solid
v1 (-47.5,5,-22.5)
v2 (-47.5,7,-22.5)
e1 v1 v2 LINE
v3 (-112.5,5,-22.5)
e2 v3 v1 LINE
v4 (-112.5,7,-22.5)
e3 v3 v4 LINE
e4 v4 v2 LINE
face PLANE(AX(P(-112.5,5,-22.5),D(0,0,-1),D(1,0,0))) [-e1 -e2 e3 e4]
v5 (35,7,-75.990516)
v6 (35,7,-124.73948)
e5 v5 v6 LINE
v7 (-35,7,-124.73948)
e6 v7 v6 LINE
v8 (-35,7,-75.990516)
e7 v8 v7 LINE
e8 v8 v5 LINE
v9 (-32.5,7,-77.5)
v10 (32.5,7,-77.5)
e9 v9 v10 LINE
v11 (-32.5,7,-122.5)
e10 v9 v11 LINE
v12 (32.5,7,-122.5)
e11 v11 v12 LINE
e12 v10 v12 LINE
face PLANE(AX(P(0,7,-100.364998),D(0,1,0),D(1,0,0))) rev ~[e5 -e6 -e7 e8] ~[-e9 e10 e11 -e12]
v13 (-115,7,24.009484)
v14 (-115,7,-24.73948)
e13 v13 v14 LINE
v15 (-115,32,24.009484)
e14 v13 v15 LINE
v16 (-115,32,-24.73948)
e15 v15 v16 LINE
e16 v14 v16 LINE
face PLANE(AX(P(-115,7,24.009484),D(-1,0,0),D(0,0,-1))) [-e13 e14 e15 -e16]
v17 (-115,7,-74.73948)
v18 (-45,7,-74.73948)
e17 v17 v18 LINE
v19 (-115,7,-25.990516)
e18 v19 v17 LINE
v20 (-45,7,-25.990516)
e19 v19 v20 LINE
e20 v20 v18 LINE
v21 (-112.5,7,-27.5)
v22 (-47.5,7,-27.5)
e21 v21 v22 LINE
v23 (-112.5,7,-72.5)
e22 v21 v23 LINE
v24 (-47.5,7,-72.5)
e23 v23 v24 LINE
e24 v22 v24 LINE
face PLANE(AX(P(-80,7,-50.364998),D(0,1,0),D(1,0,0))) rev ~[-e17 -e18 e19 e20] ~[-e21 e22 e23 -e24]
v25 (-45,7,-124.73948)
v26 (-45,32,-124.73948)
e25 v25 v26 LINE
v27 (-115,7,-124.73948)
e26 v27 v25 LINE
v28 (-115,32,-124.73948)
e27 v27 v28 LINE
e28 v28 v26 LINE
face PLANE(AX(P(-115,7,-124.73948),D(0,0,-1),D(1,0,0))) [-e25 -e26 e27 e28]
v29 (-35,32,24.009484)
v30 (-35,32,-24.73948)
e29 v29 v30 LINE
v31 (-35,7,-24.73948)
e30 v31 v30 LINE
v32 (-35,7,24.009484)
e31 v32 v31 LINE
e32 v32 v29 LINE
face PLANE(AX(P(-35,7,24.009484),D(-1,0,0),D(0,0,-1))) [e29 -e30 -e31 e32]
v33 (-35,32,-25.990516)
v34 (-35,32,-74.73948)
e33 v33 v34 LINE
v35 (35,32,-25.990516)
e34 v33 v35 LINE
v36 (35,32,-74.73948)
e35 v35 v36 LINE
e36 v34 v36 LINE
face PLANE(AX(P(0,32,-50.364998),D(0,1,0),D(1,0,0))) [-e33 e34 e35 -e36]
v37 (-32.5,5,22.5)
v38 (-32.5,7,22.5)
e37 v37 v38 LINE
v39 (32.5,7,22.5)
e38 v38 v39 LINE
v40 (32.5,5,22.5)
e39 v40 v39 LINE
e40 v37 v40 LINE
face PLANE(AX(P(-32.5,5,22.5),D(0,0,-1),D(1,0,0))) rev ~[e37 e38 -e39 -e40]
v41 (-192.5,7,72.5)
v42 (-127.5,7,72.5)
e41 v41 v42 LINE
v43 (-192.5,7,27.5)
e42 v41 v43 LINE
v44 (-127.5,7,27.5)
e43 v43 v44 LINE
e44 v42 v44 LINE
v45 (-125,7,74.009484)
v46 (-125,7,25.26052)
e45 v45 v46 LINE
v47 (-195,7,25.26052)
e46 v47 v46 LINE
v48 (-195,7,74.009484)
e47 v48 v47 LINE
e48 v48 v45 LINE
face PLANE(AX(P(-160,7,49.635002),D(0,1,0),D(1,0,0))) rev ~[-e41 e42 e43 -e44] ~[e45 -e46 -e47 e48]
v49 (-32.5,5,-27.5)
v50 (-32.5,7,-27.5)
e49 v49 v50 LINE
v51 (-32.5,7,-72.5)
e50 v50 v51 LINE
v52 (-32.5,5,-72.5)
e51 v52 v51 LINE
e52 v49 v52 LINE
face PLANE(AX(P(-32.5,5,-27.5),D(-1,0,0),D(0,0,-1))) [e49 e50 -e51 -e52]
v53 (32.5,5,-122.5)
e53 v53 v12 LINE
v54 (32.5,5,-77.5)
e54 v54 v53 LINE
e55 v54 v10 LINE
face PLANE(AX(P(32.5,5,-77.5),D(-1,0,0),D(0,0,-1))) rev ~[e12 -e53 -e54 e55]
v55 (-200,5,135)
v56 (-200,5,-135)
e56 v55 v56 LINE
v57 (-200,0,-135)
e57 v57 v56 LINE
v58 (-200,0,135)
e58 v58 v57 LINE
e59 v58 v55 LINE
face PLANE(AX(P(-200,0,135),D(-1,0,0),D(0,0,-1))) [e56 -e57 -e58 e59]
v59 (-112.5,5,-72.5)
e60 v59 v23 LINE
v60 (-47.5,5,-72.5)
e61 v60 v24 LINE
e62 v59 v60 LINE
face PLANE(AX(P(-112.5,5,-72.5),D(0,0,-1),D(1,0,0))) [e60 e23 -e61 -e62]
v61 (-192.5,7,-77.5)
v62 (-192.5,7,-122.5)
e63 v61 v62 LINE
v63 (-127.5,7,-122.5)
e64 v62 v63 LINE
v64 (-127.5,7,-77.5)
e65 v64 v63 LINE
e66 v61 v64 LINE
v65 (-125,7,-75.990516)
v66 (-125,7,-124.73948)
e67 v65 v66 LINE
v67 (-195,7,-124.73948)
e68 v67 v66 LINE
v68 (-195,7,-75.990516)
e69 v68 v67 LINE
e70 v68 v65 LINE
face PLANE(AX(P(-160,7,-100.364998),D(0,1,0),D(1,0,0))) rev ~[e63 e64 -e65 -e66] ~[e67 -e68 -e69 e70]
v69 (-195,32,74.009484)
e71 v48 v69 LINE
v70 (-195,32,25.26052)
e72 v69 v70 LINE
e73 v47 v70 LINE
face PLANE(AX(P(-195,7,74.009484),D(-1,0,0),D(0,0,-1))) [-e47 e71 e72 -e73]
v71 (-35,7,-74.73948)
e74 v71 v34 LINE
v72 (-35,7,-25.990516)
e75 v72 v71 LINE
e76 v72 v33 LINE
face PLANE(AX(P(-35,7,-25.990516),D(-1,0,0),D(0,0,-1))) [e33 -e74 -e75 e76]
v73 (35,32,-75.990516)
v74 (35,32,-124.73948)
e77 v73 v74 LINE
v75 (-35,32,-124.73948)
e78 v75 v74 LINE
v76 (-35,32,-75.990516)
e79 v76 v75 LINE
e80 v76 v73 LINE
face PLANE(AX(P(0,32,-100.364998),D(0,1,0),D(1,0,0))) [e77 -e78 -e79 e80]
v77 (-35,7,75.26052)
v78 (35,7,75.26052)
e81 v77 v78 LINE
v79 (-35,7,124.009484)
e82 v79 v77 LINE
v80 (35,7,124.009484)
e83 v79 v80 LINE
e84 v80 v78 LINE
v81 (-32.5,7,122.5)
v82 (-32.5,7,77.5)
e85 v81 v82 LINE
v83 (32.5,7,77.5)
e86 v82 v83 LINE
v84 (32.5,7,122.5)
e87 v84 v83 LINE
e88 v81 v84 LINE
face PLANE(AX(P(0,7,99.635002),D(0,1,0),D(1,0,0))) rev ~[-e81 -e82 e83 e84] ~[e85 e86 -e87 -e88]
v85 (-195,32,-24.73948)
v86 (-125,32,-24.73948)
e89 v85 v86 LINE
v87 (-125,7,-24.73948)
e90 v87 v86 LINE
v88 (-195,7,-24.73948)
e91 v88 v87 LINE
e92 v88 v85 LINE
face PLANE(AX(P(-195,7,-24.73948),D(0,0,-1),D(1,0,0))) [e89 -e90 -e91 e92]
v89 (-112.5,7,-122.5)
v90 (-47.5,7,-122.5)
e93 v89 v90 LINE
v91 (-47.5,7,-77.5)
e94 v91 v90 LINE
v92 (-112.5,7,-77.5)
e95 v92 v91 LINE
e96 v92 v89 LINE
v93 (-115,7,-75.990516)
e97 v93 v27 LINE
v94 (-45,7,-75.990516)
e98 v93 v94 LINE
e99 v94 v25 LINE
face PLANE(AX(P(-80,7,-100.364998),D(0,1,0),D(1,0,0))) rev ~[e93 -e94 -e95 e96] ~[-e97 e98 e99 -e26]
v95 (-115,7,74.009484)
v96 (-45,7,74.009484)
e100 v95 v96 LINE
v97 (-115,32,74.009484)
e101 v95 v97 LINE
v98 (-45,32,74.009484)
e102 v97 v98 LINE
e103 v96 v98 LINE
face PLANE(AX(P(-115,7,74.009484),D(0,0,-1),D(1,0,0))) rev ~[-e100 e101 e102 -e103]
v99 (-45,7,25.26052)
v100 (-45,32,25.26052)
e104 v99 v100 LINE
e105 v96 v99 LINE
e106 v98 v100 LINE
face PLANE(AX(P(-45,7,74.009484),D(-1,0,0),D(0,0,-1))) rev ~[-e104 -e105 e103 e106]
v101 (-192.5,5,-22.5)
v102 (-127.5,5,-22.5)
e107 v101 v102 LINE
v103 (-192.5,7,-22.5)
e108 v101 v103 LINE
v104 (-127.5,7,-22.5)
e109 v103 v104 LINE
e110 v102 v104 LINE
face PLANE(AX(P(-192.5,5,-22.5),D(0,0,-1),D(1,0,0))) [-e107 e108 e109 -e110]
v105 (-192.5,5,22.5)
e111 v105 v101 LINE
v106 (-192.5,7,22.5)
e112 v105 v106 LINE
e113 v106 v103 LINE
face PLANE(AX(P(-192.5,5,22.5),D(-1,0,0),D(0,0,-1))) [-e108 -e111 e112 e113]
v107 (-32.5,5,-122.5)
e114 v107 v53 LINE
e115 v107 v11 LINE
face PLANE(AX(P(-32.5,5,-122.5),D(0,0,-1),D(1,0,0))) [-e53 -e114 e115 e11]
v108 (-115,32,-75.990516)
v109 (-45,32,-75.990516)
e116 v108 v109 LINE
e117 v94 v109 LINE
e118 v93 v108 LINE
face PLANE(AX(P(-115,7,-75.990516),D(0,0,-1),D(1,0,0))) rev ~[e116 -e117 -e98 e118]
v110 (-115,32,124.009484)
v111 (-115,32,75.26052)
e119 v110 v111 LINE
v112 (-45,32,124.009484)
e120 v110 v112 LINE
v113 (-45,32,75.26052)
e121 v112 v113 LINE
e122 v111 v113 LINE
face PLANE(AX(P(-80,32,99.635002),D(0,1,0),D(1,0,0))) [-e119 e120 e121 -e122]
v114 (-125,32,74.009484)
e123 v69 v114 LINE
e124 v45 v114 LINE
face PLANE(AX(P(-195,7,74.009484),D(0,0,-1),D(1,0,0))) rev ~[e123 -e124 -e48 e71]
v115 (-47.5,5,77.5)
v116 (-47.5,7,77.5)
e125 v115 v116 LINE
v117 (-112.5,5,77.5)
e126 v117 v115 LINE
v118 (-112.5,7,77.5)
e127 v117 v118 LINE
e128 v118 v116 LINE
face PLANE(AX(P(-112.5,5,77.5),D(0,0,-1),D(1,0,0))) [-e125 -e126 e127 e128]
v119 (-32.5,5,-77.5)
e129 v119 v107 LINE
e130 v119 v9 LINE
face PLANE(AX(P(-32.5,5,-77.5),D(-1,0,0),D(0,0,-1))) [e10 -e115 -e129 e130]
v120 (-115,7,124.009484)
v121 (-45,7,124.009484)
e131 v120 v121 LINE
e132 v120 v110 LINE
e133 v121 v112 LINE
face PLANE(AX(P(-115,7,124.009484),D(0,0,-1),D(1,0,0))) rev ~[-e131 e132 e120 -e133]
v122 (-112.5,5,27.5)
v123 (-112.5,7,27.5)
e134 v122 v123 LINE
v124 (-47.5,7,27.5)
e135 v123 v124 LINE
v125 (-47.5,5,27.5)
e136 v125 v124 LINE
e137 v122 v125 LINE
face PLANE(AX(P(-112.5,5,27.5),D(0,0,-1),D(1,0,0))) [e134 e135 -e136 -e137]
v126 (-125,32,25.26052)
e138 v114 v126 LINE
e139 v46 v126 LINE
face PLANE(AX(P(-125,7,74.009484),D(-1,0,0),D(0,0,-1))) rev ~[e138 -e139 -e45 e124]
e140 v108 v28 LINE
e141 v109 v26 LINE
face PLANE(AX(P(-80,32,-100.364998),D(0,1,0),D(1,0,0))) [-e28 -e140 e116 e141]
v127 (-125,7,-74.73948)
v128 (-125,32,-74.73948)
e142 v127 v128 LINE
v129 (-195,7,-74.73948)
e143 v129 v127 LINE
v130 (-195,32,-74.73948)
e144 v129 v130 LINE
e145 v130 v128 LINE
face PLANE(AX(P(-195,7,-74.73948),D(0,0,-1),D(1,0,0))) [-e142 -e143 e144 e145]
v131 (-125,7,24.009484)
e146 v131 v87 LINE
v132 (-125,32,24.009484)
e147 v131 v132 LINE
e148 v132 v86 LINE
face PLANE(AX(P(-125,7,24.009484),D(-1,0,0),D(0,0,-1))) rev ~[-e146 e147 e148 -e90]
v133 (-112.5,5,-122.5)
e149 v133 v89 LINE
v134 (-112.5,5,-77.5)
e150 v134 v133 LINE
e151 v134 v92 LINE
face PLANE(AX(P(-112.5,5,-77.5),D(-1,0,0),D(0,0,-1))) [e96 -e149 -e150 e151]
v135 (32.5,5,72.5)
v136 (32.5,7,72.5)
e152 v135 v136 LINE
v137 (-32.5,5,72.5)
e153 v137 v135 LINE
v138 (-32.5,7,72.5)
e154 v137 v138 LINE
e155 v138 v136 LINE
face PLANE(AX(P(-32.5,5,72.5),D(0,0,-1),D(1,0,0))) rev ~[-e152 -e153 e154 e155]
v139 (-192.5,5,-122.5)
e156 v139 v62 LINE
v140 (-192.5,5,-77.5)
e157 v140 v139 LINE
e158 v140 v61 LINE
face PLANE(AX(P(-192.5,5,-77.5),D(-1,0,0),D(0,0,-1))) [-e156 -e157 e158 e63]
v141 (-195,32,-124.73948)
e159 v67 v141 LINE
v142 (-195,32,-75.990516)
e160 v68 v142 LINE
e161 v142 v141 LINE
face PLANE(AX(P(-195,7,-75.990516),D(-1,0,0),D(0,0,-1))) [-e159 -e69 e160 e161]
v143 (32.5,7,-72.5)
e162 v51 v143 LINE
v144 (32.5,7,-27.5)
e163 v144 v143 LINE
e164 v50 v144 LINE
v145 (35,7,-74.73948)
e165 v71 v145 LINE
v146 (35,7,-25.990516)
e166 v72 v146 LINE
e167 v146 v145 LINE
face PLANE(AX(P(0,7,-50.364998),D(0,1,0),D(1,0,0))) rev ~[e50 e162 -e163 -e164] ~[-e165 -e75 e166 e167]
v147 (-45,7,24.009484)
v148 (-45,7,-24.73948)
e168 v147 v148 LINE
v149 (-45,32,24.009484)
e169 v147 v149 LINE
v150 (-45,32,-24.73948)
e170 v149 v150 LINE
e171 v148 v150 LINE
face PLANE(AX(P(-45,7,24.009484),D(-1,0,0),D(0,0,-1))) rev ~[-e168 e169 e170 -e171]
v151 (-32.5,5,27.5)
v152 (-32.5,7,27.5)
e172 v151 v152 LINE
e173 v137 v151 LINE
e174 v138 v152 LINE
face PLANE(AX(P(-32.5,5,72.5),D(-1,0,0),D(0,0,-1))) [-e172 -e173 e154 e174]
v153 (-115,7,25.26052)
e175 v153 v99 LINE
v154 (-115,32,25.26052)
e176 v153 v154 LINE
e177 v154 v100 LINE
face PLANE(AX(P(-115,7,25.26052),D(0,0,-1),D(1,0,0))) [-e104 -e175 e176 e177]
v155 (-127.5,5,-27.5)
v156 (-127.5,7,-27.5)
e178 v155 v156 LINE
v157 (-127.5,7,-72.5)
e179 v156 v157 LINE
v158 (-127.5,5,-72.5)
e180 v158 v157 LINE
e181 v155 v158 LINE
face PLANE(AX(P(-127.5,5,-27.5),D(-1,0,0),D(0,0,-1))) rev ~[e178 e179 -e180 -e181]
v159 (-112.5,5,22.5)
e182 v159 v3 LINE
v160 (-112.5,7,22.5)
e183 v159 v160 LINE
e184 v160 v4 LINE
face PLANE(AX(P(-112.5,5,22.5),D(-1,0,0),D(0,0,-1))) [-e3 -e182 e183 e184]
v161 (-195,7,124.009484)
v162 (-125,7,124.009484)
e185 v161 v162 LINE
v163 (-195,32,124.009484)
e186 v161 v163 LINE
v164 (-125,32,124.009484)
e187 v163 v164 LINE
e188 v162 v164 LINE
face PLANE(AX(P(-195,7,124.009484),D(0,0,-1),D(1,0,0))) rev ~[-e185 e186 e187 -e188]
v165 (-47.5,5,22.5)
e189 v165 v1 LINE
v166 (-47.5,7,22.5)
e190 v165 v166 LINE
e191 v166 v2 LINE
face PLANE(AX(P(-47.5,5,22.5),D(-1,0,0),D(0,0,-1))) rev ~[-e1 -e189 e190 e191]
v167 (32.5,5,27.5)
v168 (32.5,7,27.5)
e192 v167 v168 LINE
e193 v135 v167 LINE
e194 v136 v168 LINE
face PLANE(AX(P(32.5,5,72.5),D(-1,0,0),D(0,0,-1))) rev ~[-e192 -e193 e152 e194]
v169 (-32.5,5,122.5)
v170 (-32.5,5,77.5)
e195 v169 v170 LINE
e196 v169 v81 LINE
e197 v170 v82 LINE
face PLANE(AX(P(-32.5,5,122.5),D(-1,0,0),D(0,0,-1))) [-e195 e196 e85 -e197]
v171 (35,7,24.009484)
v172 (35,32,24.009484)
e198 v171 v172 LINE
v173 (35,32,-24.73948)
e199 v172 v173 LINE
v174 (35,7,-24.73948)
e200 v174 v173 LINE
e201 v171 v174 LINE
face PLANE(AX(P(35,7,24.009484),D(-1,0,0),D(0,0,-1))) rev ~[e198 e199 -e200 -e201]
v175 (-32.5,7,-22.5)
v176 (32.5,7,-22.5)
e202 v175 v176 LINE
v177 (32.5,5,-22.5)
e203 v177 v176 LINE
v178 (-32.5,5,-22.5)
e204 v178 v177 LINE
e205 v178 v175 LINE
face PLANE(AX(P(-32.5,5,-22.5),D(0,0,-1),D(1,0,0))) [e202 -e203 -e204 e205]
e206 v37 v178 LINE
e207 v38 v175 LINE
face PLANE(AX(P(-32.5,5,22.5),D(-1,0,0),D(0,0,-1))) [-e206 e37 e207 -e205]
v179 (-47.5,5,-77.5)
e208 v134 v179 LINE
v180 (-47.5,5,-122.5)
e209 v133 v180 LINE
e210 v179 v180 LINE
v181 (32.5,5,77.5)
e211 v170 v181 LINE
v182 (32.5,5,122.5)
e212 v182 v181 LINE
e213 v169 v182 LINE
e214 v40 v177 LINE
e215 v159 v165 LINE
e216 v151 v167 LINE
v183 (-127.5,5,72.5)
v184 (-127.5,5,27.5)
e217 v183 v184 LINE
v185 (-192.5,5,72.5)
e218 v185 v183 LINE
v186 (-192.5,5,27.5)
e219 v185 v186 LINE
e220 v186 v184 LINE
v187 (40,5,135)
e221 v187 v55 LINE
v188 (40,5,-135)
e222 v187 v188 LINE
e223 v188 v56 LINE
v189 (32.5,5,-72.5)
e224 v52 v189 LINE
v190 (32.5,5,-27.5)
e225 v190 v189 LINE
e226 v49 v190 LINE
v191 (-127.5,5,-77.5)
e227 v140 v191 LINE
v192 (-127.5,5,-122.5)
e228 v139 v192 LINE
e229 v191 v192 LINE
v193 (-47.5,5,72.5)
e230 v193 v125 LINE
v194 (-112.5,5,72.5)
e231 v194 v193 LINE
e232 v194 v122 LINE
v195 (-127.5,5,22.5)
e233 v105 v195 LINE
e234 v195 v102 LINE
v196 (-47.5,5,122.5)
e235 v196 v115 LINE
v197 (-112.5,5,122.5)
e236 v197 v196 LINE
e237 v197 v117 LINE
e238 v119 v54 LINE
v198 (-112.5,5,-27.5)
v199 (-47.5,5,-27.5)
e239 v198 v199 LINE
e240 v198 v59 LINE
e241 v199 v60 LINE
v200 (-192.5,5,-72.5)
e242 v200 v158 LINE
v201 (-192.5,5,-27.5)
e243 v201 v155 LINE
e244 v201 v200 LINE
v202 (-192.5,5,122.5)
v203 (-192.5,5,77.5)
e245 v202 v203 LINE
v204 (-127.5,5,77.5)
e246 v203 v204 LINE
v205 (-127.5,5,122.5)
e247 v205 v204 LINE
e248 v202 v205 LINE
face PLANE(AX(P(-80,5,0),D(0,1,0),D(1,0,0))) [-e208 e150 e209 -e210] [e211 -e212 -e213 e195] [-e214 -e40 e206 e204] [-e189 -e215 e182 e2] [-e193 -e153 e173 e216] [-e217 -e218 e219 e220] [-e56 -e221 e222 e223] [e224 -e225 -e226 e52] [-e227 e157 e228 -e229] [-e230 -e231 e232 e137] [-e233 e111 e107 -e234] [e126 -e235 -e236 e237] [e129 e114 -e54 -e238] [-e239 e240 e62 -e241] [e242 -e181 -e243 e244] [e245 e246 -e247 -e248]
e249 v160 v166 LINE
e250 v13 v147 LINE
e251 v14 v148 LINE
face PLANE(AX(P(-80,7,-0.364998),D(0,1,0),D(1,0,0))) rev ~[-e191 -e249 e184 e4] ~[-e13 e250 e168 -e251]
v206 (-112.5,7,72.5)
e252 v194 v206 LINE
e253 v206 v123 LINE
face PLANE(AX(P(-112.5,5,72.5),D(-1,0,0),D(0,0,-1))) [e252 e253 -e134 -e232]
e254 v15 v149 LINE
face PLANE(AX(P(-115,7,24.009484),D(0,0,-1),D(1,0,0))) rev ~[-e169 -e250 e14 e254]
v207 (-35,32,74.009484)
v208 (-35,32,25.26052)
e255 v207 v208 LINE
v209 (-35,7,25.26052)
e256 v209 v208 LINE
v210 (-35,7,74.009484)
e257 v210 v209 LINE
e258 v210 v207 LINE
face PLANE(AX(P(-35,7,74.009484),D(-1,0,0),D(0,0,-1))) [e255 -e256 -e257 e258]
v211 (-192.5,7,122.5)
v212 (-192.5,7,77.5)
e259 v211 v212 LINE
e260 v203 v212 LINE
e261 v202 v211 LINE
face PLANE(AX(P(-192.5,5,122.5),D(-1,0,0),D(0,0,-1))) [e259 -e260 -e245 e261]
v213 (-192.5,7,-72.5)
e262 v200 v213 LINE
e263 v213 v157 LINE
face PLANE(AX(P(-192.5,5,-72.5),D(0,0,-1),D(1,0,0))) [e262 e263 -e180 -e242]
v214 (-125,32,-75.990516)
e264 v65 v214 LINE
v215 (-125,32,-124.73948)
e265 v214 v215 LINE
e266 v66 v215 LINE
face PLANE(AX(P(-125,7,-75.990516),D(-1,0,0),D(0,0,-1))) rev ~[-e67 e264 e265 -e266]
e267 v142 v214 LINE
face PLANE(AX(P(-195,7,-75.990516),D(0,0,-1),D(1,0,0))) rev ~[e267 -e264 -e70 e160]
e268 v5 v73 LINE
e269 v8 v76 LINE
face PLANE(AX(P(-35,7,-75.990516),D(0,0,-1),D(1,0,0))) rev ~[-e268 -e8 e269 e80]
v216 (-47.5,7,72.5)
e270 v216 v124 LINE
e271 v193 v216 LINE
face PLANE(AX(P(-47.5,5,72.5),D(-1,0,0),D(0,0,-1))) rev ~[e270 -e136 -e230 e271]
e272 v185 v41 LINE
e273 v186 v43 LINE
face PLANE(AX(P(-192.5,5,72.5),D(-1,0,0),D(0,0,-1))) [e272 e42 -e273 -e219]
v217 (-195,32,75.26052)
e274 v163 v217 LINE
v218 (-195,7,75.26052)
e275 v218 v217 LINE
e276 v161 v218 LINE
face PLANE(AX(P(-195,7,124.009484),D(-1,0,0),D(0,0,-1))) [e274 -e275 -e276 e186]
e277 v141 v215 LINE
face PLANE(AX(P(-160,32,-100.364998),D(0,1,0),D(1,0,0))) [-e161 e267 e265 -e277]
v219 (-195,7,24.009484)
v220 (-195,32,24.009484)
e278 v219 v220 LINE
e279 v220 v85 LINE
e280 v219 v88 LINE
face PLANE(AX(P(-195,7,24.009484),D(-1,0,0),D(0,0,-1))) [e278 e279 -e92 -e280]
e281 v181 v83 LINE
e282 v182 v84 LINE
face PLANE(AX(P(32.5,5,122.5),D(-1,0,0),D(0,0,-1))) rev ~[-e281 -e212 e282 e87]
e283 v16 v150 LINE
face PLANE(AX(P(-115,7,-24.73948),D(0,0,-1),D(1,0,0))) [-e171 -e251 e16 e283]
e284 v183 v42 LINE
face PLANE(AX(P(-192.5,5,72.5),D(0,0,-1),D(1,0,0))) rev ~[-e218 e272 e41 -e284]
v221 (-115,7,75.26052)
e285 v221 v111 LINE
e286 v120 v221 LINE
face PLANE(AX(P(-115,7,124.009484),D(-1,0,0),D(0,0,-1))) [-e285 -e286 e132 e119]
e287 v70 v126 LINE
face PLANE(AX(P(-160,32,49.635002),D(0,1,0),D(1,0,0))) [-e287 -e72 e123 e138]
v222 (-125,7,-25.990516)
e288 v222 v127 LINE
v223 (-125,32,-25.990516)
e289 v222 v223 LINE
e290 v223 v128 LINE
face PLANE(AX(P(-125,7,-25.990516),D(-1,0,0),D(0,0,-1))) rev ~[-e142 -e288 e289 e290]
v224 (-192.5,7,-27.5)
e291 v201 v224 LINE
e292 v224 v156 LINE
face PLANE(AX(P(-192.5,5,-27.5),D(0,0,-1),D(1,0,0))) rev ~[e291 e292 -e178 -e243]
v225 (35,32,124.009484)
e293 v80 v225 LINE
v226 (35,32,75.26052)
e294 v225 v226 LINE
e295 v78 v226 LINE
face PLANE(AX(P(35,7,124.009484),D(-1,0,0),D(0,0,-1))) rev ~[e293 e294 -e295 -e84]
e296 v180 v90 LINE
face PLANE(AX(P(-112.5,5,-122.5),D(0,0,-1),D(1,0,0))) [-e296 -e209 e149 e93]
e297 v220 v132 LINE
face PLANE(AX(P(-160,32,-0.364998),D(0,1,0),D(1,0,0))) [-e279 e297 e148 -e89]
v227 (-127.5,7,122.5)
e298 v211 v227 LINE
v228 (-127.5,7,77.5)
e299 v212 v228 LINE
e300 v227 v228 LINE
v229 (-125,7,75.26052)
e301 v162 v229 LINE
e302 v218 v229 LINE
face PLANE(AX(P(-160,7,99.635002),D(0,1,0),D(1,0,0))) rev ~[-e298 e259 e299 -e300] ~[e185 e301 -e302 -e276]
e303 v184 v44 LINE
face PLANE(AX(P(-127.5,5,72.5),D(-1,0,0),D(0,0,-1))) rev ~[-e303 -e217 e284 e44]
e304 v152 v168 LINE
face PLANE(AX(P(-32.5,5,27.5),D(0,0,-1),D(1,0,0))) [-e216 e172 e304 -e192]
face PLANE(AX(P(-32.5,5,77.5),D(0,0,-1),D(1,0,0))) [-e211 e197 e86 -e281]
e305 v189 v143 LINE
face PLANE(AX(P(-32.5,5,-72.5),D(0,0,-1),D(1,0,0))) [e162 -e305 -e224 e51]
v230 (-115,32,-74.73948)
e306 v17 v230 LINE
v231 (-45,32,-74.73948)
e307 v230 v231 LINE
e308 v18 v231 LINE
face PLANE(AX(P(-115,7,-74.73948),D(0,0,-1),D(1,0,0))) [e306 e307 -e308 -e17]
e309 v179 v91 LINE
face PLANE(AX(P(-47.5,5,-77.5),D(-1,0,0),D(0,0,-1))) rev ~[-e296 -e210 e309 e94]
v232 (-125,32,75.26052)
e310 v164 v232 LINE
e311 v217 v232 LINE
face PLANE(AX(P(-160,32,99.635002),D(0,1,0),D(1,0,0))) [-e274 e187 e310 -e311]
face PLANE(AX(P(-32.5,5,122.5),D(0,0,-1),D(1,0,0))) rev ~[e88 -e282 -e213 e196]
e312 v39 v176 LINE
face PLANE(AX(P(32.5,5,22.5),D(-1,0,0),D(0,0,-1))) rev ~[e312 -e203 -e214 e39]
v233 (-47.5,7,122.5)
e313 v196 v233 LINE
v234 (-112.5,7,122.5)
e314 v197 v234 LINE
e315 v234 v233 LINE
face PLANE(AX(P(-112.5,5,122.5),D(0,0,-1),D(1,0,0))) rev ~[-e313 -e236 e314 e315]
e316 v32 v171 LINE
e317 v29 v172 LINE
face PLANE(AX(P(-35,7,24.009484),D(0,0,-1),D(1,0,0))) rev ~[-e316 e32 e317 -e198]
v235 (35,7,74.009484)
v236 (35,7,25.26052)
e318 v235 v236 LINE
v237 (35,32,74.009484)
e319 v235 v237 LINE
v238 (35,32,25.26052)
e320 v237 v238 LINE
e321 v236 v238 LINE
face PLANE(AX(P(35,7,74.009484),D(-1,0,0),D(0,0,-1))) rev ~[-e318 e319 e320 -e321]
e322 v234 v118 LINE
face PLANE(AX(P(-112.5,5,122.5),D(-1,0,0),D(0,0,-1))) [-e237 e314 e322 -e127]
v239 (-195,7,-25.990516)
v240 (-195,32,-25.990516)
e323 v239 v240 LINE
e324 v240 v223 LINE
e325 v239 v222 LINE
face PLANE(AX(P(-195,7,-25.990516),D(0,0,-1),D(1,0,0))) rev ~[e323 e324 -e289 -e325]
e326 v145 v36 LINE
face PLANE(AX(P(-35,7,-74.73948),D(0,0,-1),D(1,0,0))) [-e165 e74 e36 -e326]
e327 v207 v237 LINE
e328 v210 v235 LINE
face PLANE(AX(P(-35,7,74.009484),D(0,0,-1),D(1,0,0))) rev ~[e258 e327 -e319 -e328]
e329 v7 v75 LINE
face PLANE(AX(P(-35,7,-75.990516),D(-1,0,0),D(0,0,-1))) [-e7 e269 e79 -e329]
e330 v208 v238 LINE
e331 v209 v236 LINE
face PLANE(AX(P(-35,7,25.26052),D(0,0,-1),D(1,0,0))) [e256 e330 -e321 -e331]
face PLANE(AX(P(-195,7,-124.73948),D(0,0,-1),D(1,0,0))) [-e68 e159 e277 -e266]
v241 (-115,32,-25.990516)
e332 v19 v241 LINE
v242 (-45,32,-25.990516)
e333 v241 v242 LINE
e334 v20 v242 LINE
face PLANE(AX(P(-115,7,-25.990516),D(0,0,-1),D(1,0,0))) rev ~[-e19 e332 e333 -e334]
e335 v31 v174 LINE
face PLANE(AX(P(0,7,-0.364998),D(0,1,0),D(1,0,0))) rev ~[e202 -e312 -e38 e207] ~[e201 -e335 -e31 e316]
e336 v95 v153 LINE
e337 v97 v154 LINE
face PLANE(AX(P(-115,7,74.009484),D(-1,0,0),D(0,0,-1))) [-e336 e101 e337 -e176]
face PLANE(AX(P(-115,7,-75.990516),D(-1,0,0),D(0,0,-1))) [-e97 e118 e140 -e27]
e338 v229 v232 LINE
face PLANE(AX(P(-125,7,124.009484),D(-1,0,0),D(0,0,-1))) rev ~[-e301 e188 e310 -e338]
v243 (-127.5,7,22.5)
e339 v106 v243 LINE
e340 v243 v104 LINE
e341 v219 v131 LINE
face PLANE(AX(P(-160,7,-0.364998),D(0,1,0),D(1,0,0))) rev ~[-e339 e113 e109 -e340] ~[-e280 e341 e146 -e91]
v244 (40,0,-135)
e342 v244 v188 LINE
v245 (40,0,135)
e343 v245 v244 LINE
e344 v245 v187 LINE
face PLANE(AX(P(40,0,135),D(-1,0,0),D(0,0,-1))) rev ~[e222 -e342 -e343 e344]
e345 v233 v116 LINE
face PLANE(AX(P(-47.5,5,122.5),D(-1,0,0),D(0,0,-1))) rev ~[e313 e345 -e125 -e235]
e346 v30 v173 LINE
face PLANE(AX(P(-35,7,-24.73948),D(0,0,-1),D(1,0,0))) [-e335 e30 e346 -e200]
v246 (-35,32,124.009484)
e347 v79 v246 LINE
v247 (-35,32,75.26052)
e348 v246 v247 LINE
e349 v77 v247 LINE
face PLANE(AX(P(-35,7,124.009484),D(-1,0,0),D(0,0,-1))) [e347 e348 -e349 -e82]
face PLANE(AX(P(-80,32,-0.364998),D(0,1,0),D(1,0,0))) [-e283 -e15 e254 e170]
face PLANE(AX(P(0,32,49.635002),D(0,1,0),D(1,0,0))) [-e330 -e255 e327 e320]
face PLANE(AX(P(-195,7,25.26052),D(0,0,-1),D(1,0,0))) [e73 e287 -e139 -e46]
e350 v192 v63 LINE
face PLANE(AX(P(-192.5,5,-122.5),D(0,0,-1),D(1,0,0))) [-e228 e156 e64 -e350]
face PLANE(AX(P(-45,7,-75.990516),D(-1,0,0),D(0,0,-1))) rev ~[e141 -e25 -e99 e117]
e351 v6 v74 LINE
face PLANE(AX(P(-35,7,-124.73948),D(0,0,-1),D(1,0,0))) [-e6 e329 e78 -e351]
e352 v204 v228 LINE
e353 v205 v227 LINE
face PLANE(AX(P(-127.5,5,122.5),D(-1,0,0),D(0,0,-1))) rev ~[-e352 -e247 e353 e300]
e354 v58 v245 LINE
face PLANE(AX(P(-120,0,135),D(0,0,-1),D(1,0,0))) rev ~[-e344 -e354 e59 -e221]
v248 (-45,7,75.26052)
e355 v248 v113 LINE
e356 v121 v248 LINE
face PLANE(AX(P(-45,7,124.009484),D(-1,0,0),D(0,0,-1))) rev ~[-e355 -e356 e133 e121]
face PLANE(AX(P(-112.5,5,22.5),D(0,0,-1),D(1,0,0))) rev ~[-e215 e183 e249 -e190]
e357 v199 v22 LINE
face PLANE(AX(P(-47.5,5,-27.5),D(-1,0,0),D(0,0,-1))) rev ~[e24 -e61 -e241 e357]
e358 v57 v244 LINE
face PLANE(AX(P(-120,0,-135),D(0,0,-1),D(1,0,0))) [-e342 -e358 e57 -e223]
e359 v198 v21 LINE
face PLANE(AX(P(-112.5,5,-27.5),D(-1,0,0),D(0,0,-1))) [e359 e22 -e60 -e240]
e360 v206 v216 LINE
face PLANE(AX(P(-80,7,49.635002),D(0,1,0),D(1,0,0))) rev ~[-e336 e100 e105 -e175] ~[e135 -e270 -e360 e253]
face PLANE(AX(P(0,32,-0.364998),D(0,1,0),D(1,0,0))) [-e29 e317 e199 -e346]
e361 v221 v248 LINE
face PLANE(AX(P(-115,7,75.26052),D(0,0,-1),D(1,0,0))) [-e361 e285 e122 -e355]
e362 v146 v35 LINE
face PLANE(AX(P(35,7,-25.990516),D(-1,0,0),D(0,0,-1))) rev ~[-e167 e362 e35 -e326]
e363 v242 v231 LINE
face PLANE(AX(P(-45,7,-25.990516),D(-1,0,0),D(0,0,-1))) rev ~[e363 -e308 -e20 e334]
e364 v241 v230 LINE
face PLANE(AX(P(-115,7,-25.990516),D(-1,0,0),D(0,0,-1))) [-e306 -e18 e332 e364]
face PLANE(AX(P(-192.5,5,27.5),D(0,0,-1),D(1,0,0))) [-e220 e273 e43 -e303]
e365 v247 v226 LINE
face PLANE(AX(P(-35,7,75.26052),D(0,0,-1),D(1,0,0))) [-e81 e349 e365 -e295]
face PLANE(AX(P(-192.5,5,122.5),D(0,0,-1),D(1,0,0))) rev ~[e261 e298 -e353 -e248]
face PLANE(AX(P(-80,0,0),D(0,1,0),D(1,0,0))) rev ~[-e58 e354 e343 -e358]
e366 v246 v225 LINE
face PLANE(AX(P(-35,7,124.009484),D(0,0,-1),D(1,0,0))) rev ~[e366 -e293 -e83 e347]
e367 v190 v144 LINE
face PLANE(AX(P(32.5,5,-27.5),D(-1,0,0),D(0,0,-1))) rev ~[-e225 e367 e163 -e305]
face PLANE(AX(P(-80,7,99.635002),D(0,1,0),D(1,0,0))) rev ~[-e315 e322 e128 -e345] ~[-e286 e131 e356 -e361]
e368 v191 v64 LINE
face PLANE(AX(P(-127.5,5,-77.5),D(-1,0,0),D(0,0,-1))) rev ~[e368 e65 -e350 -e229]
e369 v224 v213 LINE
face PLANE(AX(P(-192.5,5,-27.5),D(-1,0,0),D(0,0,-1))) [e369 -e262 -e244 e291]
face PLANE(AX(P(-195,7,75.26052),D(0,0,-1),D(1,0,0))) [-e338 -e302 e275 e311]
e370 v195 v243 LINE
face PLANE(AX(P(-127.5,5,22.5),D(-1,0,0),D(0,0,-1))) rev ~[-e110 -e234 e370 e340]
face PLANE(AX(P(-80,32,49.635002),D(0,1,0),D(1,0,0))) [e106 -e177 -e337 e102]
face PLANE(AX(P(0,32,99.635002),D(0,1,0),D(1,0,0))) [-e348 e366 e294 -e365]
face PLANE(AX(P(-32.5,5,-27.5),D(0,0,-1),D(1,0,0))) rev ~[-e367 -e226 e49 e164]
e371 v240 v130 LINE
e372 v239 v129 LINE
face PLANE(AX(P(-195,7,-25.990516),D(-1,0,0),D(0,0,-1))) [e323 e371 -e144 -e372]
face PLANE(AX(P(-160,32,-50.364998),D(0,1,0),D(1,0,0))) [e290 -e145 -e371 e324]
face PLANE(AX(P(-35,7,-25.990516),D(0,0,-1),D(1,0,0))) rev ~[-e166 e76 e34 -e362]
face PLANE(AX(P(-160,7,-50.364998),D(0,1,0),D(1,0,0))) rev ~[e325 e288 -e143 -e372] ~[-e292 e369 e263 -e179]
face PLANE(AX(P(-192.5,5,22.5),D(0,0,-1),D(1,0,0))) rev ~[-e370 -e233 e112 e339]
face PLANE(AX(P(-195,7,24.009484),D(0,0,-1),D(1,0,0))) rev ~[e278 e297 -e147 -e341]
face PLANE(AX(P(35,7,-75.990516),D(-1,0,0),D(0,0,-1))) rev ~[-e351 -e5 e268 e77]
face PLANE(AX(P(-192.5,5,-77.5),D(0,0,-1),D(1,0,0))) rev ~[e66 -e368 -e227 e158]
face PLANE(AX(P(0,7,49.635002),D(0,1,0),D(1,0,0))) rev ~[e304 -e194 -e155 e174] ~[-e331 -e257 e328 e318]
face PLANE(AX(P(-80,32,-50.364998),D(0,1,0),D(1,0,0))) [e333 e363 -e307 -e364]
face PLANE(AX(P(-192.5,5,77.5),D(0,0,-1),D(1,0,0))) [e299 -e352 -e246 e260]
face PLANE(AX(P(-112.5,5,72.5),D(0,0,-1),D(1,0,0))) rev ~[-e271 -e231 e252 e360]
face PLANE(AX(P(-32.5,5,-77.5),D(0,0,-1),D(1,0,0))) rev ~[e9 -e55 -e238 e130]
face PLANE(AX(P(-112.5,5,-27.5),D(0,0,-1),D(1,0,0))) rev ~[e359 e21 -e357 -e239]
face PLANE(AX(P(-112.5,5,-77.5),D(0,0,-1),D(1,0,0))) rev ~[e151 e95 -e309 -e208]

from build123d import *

# Parameters (mm, degrees)
SKETCH1_W                  = 80
SKETCH1_H                  = 270
BOSS_EXTRUDE1_DEPTH        = 5
SKETCH2_W                  = 65
SKETCH2_H                  = 45
BOSS_EXTRUDE3_DEPTH        = 2
LPATTERN1_COUNT            = 5
LPATTERN1_PITCH            = 50
SKETCH3_W                  = 70
SKETCH3_H                  = 48.748964222
BOSS_EXTRUDE8_DEPTH        = 25
LPATTERN5_COUNT            = 5
LPATTERN5_PITCH            = 50
LPATTERN6_COUNT            = 3
LPATTERN6_PITCH            = 80
LPATTERN6_COPY_1_SKETCH_W  = 65
LPATTERN6_COPY_1_SKETCH_H  = 45
LPATTERN6_COPY_1_DEPTH     = 2
LPATTERN6_COPY_2_SKETCH_W  = 65
LPATTERN6_COPY_2_SKETCH_H  = 45
LPATTERN6_COPY_2_DEPTH     = 2
LPATTERN6_COPY_3_SKETCH_W  = 65
LPATTERN6_COPY_3_SKETCH_H  = 45
LPATTERN6_COPY_3_DEPTH     = 2
LPATTERN6_COPY_4_SKETCH_W  = 65
LPATTERN6_COPY_4_SKETCH_H  = 45
LPATTERN6_COPY_4_DEPTH     = 2
LPATTERN6_COPY_5_SKETCH_W  = 65
LPATTERN6_COPY_5_SKETCH_H  = 45
LPATTERN6_COPY_5_DEPTH     = 2
LPATTERN6_COPY_6_SKETCH_W  = 65
LPATTERN6_COPY_6_SKETCH_H  = 45
LPATTERN6_COPY_6_DEPTH     = 2
LPATTERN6_COPY_7_SKETCH_W  = 65
LPATTERN6_COPY_7_SKETCH_H  = 45
LPATTERN6_COPY_7_DEPTH     = 2
LPATTERN6_COPY_8_SKETCH_W  = 65
LPATTERN6_COPY_8_SKETCH_H  = 45
LPATTERN6_COPY_8_DEPTH     = 2
LPATTERN6_COPY_9_SKETCH_W  = 70
LPATTERN6_COPY_9_SKETCH_H  = 48.748964222
LPATTERN6_COPY_9_DEPTH     = 25
LPATTERN6_COPY_10_SKETCH_W = 70
LPATTERN6_COPY_10_SKETCH_H = 48.748964222
LPATTERN6_COPY_10_DEPTH    = 25
LPATTERN6_COPY_11_SKETCH_W = 70
LPATTERN6_COPY_11_SKETCH_H = 48.748964222
LPATTERN6_COPY_11_DEPTH    = 25
LPATTERN6_COPY_12_SKETCH_W = 70
LPATTERN6_COPY_12_SKETCH_H = 48.748964222
LPATTERN6_COPY_12_DEPTH    = 25
LPATTERN6_COPY_13_SKETCH_W = 70
LPATTERN6_COPY_13_SKETCH_H = 48.748964222
LPATTERN6_COPY_13_DEPTH    = 25
LPATTERN6_COPY_14_SKETCH_W = 70
LPATTERN6_COPY_14_SKETCH_H = 48.748964222
LPATTERN6_COPY_14_DEPTH    = 25
LPATTERN6_COPY_15_SKETCH_W = 70
LPATTERN6_COPY_15_SKETCH_H = 48.748964222
LPATTERN6_COPY_15_DEPTH    = 25
LPATTERN6_COPY_16_SKETCH_W = 70
LPATTERN6_COPY_16_SKETCH_H = 48.748964222
LPATTERN6_COPY_16_DEPTH    = 25


with BuildPart() as part:
    # Sketch1 → Boss-Extrude1 (new body)
    with BuildSketch(Plane(origin=(0, 0, 0), x_dir=(1, 0, 0), z_dir=(0, 1, 0))):
        Rectangle(SKETCH1_W, SKETCH1_H)
    boss_extrude1 = extrude(amount=BOSS_EXTRUDE1_DEPTH)

    # Sketch2 → Boss-Extrude3 (add)
    with BuildSketch(Plane(origin=(0, 5, 0), x_dir=(1, 0, 0), z_dir=(0, 1, 0))):
        with Locations((0, -100)):
            Rectangle(SKETCH2_W, SKETCH2_H)
    boss_extrude3 = extrude(amount=BOSS_EXTRUDE3_DEPTH)

    # LPattern1: Boss-Extrude3 ×5
    with Locations(*[(0, 0, -i * LPATTERN1_PITCH) for i in range(1, LPATTERN1_COUNT)]):
        add(boss_extrude3)

    # Sketch3 → Boss-Extrude8 (add)
    with BuildSketch(Plane(origin=(0, 7, 0), x_dir=(1, 0, 0), z_dir=(0, 1, 0))):
        with Locations((0, -99.635002086)):
            Rectangle(SKETCH3_W, SKETCH3_H)
    boss_extrude8 = extrude(amount=BOSS_EXTRUDE8_DEPTH)

    # LPattern5: Boss-Extrude8 ×5
    with Locations(*[(0, 0, -i * LPATTERN5_PITCH) for i in range(1, LPATTERN5_COUNT)]):
        add(boss_extrude8)

    # LPattern6: Boss-Extrude1, Boss-Extrude3, Boss-Extrude8 ×3
    with Locations(*[(-i * LPATTERN6_PITCH, 0, 0) for i in range(1, LPATTERN6_COUNT)]):
        add(boss_extrude1)
        add(boss_extrude3)
        add(boss_extrude8)

    # LPattern6 copy 1 sketch → LPattern6 copy 1 (add)
    with BuildSketch(Plane(origin=(-80, 5, -50), x_dir=(1, 0, 0), z_dir=(0, 1, 0))):
        with Locations((0, -100)):
            Rectangle(LPATTERN6_COPY_1_SKETCH_W, LPATTERN6_COPY_1_SKETCH_H)
    extrude(amount=LPATTERN6_COPY_1_DEPTH)

    # LPattern6 copy 2 sketch → LPattern6 copy 2 (add)
    with BuildSketch(Plane(origin=(-160, 5, -50), x_dir=(1, 0, 0), z_dir=(0, 1, 0))):
        with Locations((0, -100)):
            Rectangle(LPATTERN6_COPY_2_SKETCH_W, LPATTERN6_COPY_2_SKETCH_H)
    extrude(amount=LPATTERN6_COPY_2_DEPTH)

    # LPattern6 copy 3 sketch → LPattern6 copy 3 (add)
    with BuildSketch(Plane(origin=(-80, 5, -100), x_dir=(1, 0, 0), z_dir=(0, 1, 0))):
        with Locations((0, -100)):
            Rectangle(LPATTERN6_COPY_3_SKETCH_W, LPATTERN6_COPY_3_SKETCH_H)
    extrude(amount=LPATTERN6_COPY_3_DEPTH)

    # LPattern6 copy 4 sketch → LPattern6 copy 4 (add)
    with BuildSketch(Plane(origin=(-160, 5, -100), x_dir=(1, 0, 0), z_dir=(0, 1, 0))):
        with Locations((0, -100)):
            Rectangle(LPATTERN6_COPY_4_SKETCH_W, LPATTERN6_COPY_4_SKETCH_H)
    extrude(amount=LPATTERN6_COPY_4_DEPTH)

    # LPattern6 copy 5 sketch → LPattern6 copy 5 (add)
    with BuildSketch(Plane(origin=(-80, 5, -150), x_dir=(1, 0, 0), z_dir=(0, 1, 0))):
        with Locations((0, -100)):
            Rectangle(LPATTERN6_COPY_5_SKETCH_W, LPATTERN6_COPY_5_SKETCH_H)
    extrude(amount=LPATTERN6_COPY_5_DEPTH)

    # LPattern6 copy 6 sketch → LPattern6 copy 6 (add)
    with BuildSketch(Plane(origin=(-160, 5, -150), x_dir=(1, 0, 0), z_dir=(0, 1, 0))):
        with Locations((0, -100)):
            Rectangle(LPATTERN6_COPY_6_SKETCH_W, LPATTERN6_COPY_6_SKETCH_H)
    extrude(amount=LPATTERN6_COPY_6_DEPTH)

    # LPattern6 copy 7 sketch → LPattern6 copy 7 (add)
    with BuildSketch(Plane(origin=(-80, 5, -200), x_dir=(1, 0, 0), z_dir=(0, 1, 0))):
        with Locations((0, -100)):
            Rectangle(LPATTERN6_COPY_7_SKETCH_W, LPATTERN6_COPY_7_SKETCH_H)
    extrude(amount=LPATTERN6_COPY_7_DEPTH)

    # LPattern6 copy 8 sketch → LPattern6 copy 8 (add)
    with BuildSketch(Plane(origin=(-160, 5, -200), x_dir=(1, 0, 0), z_dir=(0, 1, 0))):
        with Locations((0, -100)):
            Rectangle(LPATTERN6_COPY_8_SKETCH_W, LPATTERN6_COPY_8_SKETCH_H)
    extrude(amount=LPATTERN6_COPY_8_DEPTH)

    # LPattern6 copy 9 sketch → LPattern6 copy 9 (add)
    with BuildSketch(Plane(origin=(-80, 7, -50), x_dir=(1, 0, 0), z_dir=(0, 1, 0))):
        with Locations((0, -99.635002086)):
            Rectangle(LPATTERN6_COPY_9_SKETCH_W, LPATTERN6_COPY_9_SKETCH_H)
    extrude(amount=LPATTERN6_COPY_9_DEPTH)

    # LPattern6 copy 10 sketch → LPattern6 copy 10 (add)
    with BuildSketch(Plane(origin=(-160, 7, -50), x_dir=(1, 0, 0), z_dir=(0, 1, 0))):
        with Locations((0, -99.635002086)):
            Rectangle(LPATTERN6_COPY_10_SKETCH_W, LPATTERN6_COPY_10_SKETCH_H)
    extrude(amount=LPATTERN6_COPY_10_DEPTH)

    # LPattern6 copy 11 sketch → LPattern6 copy 11 (add)
    with BuildSketch(Plane(origin=(-80, 7, -100), x_dir=(1, 0, 0), z_dir=(0, 1, 0))):
        with Locations((0, -99.635002086)):
            Rectangle(LPATTERN6_COPY_11_SKETCH_W, LPATTERN6_COPY_11_SKETCH_H)
    extrude(amount=LPATTERN6_COPY_11_DEPTH)

    # LPattern6 copy 12 sketch → LPattern6 copy 12 (add)
    with BuildSketch(Plane(origin=(-160, 7, -100), x_dir=(1, 0, 0), z_dir=(0, 1, 0))):
        with Locations((0, -99.635002086)):
            Rectangle(LPATTERN6_COPY_12_SKETCH_W, LPATTERN6_COPY_12_SKETCH_H)
    extrude(amount=LPATTERN6_COPY_12_DEPTH)

    # LPattern6 copy 13 sketch → LPattern6 copy 13 (add)
    with BuildSketch(Plane(origin=(-80, 7, -150), x_dir=(1, 0, 0), z_dir=(0, 1, 0))):
        with Locations((0, -99.635002086)):
            Rectangle(LPATTERN6_COPY_13_SKETCH_W, LPATTERN6_COPY_13_SKETCH_H)
    extrude(amount=LPATTERN6_COPY_13_DEPTH)

    # LPattern6 copy 14 sketch → LPattern6 copy 14 (add)
    with BuildSketch(Plane(origin=(-160, 7, -150), x_dir=(1, 0, 0), z_dir=(0, 1, 0))):
        with Locations((0, -99.635002086)):
            Rectangle(LPATTERN6_COPY_14_SKETCH_W, LPATTERN6_COPY_14_SKETCH_H)
    extrude(amount=LPATTERN6_COPY_14_DEPTH)

    # LPattern6 copy 15 sketch → LPattern6 copy 15 (add)
    with BuildSketch(Plane(origin=(-80, 7, -200), x_dir=(1, 0, 0), z_dir=(0, 1, 0))):
        with Locations((0, -99.635002086)):
            Rectangle(LPATTERN6_COPY_15_SKETCH_W, LPATTERN6_COPY_15_SKETCH_H)
    extrude(amount=LPATTERN6_COPY_15_DEPTH)

    # LPattern6 copy 16 sketch → LPattern6 copy 16 (add)
    with BuildSketch(Plane(origin=(-160, 7, -200), x_dir=(1, 0, 0), z_dir=(0, 1, 0))):
        with Locations((0, -99.635002086)):
            Rectangle(LPATTERN6_COPY_16_SKETCH_W, LPATTERN6_COPY_16_SKETCH_H)
    extrude(amount=LPATTERN6_COPY_16_DEPTH)


solid = part.part
